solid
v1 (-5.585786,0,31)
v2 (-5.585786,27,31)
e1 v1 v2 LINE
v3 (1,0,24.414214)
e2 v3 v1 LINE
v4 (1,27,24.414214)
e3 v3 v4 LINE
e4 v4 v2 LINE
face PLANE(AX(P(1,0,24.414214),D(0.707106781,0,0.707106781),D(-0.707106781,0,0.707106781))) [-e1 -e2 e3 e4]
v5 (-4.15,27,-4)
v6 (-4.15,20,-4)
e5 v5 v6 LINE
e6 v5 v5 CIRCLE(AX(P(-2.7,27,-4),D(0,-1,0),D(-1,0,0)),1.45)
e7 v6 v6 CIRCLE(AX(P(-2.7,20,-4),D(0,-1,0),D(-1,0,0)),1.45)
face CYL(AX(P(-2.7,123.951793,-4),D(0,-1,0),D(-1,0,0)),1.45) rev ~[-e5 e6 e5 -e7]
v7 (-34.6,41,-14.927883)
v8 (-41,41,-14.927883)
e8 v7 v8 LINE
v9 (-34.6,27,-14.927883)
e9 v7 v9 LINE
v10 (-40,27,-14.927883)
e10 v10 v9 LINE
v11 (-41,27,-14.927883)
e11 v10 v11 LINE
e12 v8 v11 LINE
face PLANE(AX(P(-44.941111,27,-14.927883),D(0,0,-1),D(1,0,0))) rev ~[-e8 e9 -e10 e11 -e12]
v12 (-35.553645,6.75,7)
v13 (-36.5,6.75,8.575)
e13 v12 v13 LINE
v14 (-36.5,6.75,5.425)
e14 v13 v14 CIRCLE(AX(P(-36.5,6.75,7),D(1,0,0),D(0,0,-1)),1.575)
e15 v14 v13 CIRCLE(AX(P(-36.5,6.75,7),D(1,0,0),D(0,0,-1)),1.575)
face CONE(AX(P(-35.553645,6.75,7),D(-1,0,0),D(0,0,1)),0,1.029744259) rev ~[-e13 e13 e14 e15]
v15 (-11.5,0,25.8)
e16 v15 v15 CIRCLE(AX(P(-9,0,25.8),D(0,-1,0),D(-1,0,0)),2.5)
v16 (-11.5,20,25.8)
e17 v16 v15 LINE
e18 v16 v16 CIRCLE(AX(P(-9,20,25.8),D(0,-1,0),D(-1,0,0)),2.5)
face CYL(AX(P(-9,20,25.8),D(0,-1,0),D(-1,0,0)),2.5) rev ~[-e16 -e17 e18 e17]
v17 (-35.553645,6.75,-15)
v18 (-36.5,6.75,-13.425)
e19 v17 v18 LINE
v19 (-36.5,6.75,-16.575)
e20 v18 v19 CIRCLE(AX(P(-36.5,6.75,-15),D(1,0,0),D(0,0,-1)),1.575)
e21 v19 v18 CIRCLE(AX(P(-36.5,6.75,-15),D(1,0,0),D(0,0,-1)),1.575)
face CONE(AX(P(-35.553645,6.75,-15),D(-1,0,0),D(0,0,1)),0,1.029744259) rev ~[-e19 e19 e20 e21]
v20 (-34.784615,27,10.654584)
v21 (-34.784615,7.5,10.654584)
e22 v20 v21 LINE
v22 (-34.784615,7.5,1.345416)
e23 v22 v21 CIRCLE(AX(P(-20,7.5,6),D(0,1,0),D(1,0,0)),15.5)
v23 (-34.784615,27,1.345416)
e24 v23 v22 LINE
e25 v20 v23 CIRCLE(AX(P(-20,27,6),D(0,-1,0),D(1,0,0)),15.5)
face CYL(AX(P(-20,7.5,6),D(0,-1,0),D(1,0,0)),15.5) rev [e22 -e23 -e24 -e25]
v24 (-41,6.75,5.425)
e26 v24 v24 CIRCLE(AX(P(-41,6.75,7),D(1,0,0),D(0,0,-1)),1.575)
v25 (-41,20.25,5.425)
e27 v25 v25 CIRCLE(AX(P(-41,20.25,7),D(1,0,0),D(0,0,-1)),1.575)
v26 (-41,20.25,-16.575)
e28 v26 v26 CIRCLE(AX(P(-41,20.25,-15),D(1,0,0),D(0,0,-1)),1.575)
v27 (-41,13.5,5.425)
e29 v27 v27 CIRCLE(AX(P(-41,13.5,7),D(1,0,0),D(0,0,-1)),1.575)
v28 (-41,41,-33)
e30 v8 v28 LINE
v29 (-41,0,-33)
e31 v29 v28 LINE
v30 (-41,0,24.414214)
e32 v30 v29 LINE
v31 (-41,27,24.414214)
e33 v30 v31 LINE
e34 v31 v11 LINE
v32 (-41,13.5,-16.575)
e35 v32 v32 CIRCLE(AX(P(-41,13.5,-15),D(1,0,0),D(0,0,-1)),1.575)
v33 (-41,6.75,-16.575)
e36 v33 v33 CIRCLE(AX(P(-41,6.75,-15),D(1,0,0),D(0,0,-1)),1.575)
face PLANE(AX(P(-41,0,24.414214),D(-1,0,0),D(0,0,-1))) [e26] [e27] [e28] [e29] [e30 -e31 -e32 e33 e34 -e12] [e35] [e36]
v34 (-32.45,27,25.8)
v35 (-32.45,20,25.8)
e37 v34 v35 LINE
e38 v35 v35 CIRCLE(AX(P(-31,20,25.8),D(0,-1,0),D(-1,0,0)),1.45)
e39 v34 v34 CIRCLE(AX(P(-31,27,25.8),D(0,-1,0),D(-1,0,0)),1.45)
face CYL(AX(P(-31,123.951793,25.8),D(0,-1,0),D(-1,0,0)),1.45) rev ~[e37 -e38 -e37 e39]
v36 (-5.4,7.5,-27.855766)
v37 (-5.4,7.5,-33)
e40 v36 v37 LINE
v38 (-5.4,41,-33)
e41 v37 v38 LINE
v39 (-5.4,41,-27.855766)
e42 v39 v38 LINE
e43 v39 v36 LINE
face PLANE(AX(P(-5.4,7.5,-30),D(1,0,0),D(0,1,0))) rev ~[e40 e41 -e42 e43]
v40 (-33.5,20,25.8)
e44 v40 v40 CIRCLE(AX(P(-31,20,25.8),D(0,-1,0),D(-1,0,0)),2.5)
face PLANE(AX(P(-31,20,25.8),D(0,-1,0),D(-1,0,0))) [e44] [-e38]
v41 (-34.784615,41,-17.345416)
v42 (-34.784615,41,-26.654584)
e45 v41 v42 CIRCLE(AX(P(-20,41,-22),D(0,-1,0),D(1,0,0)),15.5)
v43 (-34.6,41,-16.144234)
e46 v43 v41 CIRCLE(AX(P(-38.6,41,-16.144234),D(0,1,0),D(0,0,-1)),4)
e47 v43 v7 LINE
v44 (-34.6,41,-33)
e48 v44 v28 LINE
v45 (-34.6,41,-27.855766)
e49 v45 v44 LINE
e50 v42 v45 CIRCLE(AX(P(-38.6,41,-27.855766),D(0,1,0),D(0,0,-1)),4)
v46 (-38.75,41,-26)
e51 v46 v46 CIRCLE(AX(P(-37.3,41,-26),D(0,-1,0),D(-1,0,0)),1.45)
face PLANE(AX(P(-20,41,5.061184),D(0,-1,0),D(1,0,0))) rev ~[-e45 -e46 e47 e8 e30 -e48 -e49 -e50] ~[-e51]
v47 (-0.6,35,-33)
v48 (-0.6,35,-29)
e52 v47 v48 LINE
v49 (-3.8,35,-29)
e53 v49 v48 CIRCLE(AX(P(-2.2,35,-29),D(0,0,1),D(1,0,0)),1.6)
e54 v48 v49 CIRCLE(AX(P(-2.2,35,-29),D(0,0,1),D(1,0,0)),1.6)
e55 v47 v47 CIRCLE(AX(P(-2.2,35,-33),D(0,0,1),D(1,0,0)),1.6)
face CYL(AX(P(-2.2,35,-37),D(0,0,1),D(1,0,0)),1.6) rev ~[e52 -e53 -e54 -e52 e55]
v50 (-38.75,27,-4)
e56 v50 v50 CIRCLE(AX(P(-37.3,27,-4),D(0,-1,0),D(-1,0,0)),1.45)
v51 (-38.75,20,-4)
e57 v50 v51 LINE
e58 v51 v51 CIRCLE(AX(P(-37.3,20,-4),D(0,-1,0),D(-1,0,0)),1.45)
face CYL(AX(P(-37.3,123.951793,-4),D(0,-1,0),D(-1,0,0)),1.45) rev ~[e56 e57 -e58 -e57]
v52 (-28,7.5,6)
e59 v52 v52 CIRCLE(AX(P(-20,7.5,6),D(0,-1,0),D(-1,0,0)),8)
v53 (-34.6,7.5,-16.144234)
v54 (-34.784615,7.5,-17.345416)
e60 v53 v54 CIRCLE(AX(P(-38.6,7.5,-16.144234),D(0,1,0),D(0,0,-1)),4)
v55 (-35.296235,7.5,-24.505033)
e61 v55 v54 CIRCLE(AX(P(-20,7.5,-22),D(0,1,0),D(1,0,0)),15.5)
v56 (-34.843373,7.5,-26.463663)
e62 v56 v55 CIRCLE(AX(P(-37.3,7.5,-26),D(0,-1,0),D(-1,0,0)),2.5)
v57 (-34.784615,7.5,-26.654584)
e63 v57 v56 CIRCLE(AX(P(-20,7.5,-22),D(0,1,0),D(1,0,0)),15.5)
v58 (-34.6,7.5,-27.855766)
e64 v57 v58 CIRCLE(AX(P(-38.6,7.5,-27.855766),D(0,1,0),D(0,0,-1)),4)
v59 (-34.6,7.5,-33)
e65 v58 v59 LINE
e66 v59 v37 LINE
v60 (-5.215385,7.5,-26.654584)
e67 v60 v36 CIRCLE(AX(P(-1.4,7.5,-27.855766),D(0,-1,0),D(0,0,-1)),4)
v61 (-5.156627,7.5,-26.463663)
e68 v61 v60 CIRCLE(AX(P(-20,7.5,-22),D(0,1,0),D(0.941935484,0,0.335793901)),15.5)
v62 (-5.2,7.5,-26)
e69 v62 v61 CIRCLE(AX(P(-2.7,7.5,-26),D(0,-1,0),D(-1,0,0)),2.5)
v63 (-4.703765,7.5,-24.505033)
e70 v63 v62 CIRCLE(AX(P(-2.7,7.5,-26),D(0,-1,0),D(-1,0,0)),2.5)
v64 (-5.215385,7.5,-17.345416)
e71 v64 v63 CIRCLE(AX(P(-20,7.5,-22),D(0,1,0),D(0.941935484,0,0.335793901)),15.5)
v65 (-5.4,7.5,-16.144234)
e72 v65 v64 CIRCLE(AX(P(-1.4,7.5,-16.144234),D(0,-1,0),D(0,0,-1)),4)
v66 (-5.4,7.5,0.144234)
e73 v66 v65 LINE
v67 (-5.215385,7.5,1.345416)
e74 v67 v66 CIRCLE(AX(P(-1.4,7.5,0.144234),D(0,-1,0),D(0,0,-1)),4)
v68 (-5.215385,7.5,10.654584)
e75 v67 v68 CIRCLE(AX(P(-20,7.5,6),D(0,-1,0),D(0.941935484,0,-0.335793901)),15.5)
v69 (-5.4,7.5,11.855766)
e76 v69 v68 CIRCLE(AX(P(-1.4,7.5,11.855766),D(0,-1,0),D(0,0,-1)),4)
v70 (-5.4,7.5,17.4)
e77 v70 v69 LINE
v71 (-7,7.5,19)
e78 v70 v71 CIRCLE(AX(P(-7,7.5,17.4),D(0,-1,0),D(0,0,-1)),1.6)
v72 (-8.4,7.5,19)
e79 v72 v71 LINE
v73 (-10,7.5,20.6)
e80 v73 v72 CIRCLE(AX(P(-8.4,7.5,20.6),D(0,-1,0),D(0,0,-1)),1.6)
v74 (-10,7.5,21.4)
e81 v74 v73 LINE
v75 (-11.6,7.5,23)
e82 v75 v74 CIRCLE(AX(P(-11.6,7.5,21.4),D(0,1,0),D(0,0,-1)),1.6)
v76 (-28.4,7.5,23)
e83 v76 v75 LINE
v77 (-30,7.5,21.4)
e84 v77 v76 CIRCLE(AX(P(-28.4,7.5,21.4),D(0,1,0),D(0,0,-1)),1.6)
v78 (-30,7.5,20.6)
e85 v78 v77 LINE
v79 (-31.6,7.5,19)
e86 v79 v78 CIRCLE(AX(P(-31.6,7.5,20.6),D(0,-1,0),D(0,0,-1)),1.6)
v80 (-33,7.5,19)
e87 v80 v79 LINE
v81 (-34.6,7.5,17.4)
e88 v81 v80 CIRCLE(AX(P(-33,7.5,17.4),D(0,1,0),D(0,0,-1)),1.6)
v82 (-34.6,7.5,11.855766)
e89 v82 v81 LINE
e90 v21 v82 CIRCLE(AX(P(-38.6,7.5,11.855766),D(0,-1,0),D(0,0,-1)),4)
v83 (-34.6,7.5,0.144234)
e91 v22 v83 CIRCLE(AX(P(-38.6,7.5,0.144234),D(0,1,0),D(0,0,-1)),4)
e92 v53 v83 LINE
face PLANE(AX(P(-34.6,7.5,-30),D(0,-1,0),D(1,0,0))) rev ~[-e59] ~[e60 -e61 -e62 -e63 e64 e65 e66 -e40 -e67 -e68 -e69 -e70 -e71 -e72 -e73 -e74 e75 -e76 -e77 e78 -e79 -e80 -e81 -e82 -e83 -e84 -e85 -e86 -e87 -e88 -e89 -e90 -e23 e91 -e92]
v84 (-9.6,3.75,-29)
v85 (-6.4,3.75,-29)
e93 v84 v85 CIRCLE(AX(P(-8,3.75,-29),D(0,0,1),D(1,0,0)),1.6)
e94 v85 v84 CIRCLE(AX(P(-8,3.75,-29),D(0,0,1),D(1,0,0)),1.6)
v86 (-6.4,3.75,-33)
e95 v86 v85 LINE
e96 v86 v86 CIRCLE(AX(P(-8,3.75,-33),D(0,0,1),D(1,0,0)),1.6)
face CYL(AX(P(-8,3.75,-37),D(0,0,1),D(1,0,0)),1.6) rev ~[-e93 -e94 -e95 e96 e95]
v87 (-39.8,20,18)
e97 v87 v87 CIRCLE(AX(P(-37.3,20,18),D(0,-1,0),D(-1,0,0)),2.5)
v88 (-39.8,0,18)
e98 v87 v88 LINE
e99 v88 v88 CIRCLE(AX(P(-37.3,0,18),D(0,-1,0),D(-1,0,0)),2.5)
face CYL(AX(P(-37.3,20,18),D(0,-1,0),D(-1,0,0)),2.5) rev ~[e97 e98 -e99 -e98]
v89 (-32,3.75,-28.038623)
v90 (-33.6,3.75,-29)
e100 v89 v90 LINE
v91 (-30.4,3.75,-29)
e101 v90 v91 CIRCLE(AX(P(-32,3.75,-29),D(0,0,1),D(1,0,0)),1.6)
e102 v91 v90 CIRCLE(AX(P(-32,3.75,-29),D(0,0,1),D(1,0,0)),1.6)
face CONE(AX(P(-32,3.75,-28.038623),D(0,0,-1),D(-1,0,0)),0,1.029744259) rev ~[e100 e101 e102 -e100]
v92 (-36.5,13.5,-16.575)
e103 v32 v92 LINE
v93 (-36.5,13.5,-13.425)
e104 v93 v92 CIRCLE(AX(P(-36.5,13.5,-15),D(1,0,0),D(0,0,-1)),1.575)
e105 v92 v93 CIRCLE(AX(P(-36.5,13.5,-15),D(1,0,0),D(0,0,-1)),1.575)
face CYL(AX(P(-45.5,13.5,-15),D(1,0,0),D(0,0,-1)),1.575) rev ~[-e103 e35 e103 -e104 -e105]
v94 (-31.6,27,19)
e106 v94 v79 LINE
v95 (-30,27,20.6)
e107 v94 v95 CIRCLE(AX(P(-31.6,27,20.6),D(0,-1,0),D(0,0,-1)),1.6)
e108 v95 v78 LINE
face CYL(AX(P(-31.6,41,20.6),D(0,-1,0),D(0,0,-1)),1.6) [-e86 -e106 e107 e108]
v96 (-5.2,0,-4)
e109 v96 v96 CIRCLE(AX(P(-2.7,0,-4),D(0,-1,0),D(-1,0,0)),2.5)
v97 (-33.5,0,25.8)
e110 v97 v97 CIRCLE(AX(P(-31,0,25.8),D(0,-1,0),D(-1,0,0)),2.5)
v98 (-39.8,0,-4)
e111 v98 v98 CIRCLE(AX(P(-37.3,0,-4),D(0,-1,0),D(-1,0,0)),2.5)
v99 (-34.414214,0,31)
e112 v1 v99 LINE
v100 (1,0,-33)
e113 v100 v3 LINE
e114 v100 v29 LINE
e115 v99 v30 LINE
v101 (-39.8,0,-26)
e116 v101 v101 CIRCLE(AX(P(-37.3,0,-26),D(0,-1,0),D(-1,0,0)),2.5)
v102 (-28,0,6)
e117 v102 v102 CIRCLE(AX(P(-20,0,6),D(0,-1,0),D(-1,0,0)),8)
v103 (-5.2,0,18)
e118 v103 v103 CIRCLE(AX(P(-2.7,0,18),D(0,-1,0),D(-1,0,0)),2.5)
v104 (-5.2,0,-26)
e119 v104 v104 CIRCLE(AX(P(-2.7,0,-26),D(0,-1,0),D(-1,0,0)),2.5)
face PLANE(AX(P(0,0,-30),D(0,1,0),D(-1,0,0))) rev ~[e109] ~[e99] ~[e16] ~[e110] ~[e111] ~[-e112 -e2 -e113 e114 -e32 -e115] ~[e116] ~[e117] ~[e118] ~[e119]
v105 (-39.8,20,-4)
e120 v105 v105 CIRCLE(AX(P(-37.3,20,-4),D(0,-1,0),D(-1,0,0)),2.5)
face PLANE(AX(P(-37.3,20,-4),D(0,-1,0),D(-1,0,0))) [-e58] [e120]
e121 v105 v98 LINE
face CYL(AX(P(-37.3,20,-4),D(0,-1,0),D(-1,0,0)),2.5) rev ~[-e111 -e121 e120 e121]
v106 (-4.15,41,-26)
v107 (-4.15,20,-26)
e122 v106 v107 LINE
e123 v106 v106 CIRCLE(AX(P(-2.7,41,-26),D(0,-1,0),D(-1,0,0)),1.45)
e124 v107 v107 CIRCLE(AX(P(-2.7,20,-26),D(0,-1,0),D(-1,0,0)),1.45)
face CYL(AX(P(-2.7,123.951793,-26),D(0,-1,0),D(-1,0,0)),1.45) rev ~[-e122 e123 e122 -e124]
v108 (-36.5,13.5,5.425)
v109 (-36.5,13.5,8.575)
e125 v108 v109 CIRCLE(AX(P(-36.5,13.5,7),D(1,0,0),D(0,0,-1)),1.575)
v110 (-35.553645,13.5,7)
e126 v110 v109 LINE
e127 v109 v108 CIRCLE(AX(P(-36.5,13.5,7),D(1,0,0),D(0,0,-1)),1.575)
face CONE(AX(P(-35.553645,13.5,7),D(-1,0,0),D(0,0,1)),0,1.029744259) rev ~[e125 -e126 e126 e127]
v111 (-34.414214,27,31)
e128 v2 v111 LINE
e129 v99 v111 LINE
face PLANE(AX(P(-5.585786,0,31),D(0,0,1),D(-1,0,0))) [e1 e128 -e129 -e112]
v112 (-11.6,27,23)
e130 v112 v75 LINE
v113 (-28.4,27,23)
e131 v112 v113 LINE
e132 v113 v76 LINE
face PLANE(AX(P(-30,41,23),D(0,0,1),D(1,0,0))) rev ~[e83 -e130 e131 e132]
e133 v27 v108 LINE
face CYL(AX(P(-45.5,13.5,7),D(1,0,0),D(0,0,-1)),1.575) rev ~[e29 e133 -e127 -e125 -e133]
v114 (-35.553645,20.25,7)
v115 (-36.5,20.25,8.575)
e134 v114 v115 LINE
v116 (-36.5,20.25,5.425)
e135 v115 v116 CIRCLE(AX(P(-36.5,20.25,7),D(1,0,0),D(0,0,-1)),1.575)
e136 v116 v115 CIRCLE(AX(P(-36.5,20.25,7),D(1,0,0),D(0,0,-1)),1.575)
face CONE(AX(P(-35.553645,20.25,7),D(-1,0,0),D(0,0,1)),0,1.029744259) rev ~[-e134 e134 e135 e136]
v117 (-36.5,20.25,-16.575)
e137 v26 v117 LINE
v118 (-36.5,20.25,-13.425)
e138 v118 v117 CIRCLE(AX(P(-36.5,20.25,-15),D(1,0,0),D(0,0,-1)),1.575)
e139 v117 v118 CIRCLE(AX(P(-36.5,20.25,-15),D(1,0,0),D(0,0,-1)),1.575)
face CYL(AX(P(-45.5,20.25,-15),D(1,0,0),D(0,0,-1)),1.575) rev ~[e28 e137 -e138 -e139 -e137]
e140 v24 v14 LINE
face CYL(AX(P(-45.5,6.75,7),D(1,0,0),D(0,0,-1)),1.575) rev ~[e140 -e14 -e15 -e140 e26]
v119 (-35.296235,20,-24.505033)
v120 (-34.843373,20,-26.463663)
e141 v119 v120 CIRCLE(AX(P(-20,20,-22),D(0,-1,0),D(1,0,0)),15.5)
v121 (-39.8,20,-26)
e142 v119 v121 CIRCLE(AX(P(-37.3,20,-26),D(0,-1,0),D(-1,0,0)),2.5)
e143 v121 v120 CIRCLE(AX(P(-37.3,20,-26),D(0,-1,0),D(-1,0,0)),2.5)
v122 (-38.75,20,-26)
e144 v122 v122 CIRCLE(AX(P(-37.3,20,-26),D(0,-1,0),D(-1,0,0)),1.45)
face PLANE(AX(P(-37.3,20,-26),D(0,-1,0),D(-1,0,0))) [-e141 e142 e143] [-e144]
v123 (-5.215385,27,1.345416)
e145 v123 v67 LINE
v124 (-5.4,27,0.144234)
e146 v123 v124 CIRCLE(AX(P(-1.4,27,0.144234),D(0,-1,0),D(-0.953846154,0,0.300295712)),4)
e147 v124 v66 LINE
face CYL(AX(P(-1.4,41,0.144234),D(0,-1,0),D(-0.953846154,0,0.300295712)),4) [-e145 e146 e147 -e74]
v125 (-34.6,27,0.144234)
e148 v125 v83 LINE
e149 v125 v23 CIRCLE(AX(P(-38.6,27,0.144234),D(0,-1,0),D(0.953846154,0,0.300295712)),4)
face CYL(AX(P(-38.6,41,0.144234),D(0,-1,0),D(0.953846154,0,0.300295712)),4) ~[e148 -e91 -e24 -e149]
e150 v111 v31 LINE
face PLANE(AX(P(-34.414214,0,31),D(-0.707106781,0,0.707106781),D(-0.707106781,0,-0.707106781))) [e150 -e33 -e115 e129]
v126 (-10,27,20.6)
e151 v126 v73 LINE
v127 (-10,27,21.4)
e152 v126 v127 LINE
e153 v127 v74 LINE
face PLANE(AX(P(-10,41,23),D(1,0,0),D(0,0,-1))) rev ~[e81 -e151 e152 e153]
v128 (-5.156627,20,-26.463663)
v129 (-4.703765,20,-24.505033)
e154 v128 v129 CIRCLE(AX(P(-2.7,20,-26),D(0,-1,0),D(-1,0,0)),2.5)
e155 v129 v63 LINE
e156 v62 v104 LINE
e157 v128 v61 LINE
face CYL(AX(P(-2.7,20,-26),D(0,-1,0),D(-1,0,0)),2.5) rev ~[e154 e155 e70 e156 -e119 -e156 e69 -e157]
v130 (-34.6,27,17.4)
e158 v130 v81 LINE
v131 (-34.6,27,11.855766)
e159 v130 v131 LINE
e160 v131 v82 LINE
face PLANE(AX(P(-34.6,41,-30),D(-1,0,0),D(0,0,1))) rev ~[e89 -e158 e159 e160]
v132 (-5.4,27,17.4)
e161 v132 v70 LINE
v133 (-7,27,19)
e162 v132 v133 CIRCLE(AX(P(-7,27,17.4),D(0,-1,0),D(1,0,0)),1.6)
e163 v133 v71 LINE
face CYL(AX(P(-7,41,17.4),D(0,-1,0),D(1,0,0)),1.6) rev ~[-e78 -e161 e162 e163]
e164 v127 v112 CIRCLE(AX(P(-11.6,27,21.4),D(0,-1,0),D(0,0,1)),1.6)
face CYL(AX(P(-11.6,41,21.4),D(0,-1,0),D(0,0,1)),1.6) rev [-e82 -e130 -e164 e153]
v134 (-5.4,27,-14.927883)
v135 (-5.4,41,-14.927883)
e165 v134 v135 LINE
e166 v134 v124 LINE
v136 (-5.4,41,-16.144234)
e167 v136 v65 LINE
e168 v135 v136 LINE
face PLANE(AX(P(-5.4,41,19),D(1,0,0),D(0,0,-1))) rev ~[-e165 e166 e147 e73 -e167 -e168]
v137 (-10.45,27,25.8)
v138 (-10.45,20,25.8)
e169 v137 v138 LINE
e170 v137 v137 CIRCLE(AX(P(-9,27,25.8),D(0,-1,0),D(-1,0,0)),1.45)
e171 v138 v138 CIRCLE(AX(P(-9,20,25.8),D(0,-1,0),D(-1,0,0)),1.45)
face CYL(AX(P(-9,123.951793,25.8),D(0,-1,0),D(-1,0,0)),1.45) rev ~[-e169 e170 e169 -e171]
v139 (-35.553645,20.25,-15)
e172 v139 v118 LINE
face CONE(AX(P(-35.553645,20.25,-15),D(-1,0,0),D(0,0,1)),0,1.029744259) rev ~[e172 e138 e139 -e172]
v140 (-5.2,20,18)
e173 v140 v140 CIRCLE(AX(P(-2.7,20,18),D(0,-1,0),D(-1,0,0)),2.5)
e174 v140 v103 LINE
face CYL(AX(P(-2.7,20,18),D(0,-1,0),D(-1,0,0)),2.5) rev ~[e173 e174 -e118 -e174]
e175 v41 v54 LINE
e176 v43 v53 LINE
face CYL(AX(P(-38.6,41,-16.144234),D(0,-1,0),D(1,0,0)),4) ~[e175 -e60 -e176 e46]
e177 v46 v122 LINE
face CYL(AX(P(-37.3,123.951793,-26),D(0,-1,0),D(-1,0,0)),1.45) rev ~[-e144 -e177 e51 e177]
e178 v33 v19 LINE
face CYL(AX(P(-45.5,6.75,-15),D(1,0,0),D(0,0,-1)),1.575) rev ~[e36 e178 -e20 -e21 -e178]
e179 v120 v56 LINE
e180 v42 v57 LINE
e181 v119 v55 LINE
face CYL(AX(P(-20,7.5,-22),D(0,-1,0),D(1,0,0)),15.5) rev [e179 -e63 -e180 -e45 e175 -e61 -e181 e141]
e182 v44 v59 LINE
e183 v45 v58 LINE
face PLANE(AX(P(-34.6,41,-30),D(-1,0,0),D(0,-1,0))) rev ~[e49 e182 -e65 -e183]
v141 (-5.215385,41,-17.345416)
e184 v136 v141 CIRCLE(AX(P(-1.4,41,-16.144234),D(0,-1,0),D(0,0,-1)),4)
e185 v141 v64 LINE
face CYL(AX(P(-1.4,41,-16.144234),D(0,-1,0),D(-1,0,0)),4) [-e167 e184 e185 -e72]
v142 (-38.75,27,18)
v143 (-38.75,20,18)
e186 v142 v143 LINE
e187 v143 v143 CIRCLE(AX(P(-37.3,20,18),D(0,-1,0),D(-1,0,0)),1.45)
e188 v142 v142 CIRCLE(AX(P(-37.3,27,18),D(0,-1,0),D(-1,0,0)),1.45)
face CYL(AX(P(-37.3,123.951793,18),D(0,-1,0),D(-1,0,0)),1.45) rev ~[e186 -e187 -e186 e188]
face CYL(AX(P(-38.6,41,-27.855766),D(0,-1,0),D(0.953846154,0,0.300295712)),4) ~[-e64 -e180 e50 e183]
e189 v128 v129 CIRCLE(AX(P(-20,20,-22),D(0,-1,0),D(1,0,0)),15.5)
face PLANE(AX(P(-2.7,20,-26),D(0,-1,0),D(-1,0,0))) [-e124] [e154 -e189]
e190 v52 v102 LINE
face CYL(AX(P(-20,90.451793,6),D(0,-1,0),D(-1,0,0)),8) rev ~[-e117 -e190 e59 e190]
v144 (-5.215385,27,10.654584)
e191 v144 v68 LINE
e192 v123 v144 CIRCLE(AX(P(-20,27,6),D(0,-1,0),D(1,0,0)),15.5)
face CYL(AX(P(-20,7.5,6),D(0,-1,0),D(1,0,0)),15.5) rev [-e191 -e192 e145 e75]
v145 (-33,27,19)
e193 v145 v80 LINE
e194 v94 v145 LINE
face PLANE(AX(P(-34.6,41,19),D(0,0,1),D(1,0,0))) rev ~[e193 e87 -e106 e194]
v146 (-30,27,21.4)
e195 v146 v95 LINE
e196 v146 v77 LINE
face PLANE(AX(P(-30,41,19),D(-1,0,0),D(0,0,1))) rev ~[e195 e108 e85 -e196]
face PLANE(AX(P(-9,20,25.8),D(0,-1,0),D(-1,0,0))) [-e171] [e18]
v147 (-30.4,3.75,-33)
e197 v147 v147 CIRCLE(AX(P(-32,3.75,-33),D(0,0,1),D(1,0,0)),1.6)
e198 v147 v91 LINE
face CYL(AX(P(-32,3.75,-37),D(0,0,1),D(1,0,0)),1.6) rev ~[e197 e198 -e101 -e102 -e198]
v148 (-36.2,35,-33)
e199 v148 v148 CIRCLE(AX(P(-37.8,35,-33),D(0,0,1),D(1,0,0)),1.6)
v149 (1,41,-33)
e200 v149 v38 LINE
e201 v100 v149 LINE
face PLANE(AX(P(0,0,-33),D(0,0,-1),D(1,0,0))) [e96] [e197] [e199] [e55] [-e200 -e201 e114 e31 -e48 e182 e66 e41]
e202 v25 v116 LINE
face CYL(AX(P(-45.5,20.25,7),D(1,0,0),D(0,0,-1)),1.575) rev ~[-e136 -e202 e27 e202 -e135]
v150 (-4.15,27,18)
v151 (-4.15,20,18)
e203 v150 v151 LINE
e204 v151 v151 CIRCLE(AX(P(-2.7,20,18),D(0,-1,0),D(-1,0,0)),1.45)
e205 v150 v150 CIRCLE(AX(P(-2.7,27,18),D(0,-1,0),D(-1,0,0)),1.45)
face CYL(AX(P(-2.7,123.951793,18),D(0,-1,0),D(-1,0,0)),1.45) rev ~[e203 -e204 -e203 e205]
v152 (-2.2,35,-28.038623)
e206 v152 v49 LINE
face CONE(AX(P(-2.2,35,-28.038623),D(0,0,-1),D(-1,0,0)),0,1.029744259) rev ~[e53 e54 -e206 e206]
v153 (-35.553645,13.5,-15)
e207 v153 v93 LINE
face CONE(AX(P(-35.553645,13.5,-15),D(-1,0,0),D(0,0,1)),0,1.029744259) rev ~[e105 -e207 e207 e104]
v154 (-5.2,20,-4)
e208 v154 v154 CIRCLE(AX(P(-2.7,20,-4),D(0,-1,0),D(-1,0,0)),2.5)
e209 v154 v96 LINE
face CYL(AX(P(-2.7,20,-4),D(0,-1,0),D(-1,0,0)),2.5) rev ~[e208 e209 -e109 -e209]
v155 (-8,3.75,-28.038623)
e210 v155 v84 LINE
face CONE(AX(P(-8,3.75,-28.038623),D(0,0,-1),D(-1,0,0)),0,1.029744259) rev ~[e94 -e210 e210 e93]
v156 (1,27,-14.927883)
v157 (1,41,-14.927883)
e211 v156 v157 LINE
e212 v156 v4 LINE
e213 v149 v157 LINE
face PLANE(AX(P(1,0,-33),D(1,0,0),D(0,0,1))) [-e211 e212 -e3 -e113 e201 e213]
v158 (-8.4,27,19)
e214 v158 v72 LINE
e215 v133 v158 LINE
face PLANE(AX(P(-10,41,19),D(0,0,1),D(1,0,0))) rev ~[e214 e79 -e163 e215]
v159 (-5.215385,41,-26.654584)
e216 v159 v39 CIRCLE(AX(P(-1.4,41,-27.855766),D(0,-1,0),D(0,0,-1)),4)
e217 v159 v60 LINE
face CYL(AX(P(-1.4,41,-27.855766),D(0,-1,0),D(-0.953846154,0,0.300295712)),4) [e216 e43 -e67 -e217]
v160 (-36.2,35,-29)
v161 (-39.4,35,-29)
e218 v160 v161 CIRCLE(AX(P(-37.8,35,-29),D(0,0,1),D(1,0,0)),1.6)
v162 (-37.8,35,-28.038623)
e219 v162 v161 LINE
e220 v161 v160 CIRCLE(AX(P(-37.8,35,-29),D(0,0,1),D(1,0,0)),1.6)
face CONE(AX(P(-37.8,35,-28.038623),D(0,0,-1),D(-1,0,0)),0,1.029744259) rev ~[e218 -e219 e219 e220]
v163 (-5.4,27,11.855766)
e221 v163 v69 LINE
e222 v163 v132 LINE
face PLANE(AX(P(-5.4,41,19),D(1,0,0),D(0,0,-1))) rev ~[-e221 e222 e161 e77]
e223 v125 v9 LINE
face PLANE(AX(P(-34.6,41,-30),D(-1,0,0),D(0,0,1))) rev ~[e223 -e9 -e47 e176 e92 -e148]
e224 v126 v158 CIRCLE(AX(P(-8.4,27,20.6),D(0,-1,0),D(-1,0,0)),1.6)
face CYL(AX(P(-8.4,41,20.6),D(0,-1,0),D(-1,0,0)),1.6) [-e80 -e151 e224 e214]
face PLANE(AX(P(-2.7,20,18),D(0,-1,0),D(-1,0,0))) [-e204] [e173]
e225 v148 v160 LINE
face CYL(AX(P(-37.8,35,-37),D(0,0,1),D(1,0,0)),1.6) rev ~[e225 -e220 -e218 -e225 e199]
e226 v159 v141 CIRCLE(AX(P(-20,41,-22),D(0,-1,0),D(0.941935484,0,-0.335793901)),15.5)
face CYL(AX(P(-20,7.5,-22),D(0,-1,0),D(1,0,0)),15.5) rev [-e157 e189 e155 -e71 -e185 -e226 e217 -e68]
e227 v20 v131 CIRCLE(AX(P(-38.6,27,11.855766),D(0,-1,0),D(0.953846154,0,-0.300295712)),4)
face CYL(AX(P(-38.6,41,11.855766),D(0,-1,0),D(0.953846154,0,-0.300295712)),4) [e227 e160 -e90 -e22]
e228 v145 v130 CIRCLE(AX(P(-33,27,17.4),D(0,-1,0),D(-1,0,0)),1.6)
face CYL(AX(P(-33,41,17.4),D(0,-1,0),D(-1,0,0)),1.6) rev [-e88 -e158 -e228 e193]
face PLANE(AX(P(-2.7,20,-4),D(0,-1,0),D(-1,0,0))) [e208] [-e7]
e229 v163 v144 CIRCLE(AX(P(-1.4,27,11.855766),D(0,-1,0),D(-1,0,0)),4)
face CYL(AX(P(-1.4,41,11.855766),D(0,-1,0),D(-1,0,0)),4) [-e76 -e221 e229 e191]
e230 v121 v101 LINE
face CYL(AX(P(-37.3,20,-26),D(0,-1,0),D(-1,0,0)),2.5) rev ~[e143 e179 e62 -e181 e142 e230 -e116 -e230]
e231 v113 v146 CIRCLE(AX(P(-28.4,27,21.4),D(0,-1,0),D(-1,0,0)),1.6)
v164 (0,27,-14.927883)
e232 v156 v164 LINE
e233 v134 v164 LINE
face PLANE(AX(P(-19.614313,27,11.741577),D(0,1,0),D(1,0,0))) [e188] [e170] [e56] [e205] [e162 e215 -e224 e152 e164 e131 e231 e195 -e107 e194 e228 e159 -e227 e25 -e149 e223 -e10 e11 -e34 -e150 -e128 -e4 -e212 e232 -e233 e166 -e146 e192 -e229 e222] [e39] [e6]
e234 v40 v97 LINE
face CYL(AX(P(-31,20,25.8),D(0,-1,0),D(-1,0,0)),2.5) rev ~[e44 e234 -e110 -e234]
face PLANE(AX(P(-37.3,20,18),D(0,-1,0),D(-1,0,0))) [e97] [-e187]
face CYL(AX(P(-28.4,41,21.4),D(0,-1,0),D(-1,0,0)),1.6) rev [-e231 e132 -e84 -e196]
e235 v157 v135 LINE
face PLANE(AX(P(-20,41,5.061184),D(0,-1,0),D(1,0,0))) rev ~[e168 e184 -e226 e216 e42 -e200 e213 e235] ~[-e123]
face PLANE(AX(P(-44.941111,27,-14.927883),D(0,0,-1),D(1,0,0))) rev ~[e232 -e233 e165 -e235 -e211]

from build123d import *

# Parameters (mm, degrees)
SKETCH1_W                                            = 40
SKETCH1_H                                            = 60
BOSS_EXTRUDE1_DEPTH                                  = 41
M2_5_CLEARANCE_HOLE1_D                               = 2.9
CUT_EXTRUDE1_DEPTH                                   = 33.5
FILLET1_R                                            = 1.6
F_16_0_16_DIAMETER_HOLE2_D                           = 16
SKETCH9_R                                            = 15.5
CUT_EXTRUDE2_DEPTH                                   = 33.5
FILLET2_R                                            = 4
CUT_EXTRUDE3_DEPTH                                   = 65.660652641
CUT_EXTRUDE3_DEPTH_BACK                              = 14
SKETCH11_W                                           = 50.653597067
SKETCH11_H                                           = 53.338920101
SKETCH12_R                                           = 15.5
CUT_EXTRUDE4_DEPTH                                   = 61.185131054
FILLET3_R                                            = 4
BOSS_EXTRUDE3_DEPTH                                  = 3
CHAMFER1_SIZE                                        = 6
BOSS_EXTRUDE4_DEPTH                                  = 41
CUT_EXTRUDE5_DEPTH                                   = 67.715815216
CUT_EXTRUDE5_DEPTH_BACK                              = 67.715815216
SKETCH19_W                                           = 48.667082547
SKETCH19_H                                           = 18.204733745
CBORE_FOR_M2_5_HEX_SOCKET_HEAD_CAP_SCREW_D           = 2.9
CBORE_FOR_M2_5_HEX_SOCKET_HEAD_CAP_SCREW_CBORE_D     = 5
CBORE_FOR_M2_5_HEX_SOCKET_HEAD_CAP_SCREW_CBORE_DEPTH = 20
TAP_DRILL_FOR_M3_HELICOIL1_D                         = 3.2
TAP_DRILL_FOR_M3_HELICOIL1_DEPTH                     = 4
TAP_DRILL_FOR_M3_HELICOIL1_TIP                       = 0.96137699
TAP_DRILL_FOR_M3_HELICOIL2_D                         = 3.15
TAP_DRILL_FOR_M3_HELICOIL2_DEPTH                     = 4.5
TAP_DRILL_FOR_M3_HELICOIL2_TIP                       = 0.946355475


with BuildPart() as part:
    # Sketch1 → Boss-Extrude1 (new body)
    with BuildSketch(Plane(origin=(0, 0, 0), x_dir=(1, 0, 0), z_dir=(0, 1, 0))):
        with Locations((-20, 0)):
            Rectangle(SKETCH1_W, SKETCH1_H)
    extrude(amount=BOSS_EXTRUDE1_DEPTH)

    # M2.5 Clearance Hole1 (through all)
    with Locations(Plane(origin=(0, 41, 0), x_dir=(1, 0, 0), z_dir=(0, 1, 0))):
        with Locations((-37.3, 26), (-37.3, 4), (-37.3, -18), (-31, -25.8), (-9, -25.8), (-2.7, -18), (-2.7, 4), (-2.7, 26)):
            Hole(M2_5_CLEARANCE_HOLE1_D / 2)

    # Sketch4 → Cut-Extrude1 (cut)
    with BuildSketch(Plane(origin=(0, 41, 0), x_dir=(1, 0, 0), z_dir=(0, 1, 0))):
        Polygon((-34.6, 30), (-34.6, -19), (-30, -19), (-30, -23), (-10, -23), (-10, -19), (-5.4, -19), (-5.4, 30), align=None)
    extrude(amount=-CUT_EXTRUDE1_DEPTH, mode=Mode.SUBTRACT)

    # Fillet1
    fillet1_edges = [part.edges().sort_by_distance(p)[0] for p in [
        (-10, 24.25, 23),
        (-30, 24.25, 23),
        (-30, 24.25, 19),
        (-34.6, 24.25, 19),
        (-5.4, 24.25, 19),
        (-10, 24.25, 19),
    ]]
    fillet(fillet1_edges, radius=FILLET1_R)

    # Ø16.0 (16) Diameter Hole2 (through all)
    with Locations(Plane(origin=(0, 7.5, 0), x_dir=(1, 0, 0), z_dir=(0, 1, 0))):
        with Locations((-20, -6)):
            Hole(F_16_0_16_DIAMETER_HOLE2_D / 2)

    # Sketch9 → Cut-Extrude2 (cut)
    with BuildSketch(Plane(origin=(0, 7.5, 0), x_dir=(1, 0, 0), z_dir=(0, 1, 0))):
        with Locations((-20, -6)):
            Circle(SKETCH9_R)
    extrude(amount=CUT_EXTRUDE2_DEPTH, mode=Mode.SUBTRACT)

    # Fillet2
    fillet2_edges = [part.edges().sort_by_distance(p)[0] for p in [
        (-5.4, 24.25, 0.795194528),
        (-5.4, 24.25, 11.204805472),
        (-34.6, 24.25, 11.204805472),
        (-34.6, 24.25, 0.795194528),
    ]]
    fillet(fillet2_edges, radius=FILLET2_R)

    # Sketch11 → Cut-Extrude3 (cut, two sides: drawn at the far end of the back side and taken through both)
    with BuildSketch(Plane(origin=(0, 41, 0), x_dir=(1, 0, 0), z_dir=(0, 1, 0)).offset(-CUT_EXTRUDE3_DEPTH_BACK)):
        with Locations((-19.614312713, -11.741576857)):
            Rectangle(SKETCH11_W, SKETCH11_H)
    extrude(amount=CUT_EXTRUDE3_DEPTH + CUT_EXTRUDE3_DEPTH_BACK, mode=Mode.SUBTRACT)

    # Sketch12 → Cut-Extrude4 (cut, through all)
    with BuildSketch(Plane(origin=(0, 7.5, 0), x_dir=(1, 0, 0), z_dir=(0, 1, 0))):
        with Locations((-20, 22)):
            Circle(SKETCH12_R)
    extrude(amount=CUT_EXTRUDE4_DEPTH, mode=Mode.SUBTRACT)

    # Fillet3
    fillet3_edges = [part.edges().sort_by_distance(p)[0] for p in [
        (-34.6, 24.25, -27.204805472),
        (-5.4, 24.25, -27.204805472),
        (-34.6, 24.25, -16.795194528),
        (-5.4, 24.25, -16.795194528),
    ]]
    fillet(fillet3_edges, radius=FILLET3_R)

    # Sketch15 → Boss-Extrude3 (add)
    with BuildSketch(Plane(origin=(0, 0, -30), x_dir=(-1, 0, 0), z_dir=(0, 0, -1))):
        Polygon((40, 41), (34.6, 41), (34.6, 7.5), (5.4, 7.5), (5.4, 41), (0, 41), (0, 0), (40, 0), align=None)
    extrude(amount=BOSS_EXTRUDE3_DEPTH)

    # Chamfer1
    chamfer1_edges = [part.edges().sort_by_distance(p)[0] for p in [
        (0, 13.5, 30),
        (-40, 13.5, 30),
    ]]
    chamfer(chamfer1_edges, length=CHAMFER1_SIZE)

    # Sketch18 → Boss-Extrude4 (add)
    with BuildSketch(Plane.XZ):
        Polygon((0, 24), (0, -33), (1, -33), (1, 24.414213562), (-5.585786438, 31), (-34.414213562, 31), (-41, 24.414213562), (-41, -33), (-40, -33), (-40, 24), (-34, 30), (-6, 30), align=None)
    extrude(amount=-BOSS_EXTRUDE4_DEPTH)

    # Sketch19 → Cut-Extrude5 (cut, two sides: drawn at the far end of the back side and taken through both)
    with BuildSketch(Plane.ZY.offset(-CUT_EXTRUDE5_DEPTH_BACK)):
        with Locations((9.40565808, 36.102366872)):
            Rectangle(SKETCH19_W, SKETCH19_H)
    extrude(amount=CUT_EXTRUDE5_DEPTH + CUT_EXTRUDE5_DEPTH_BACK, mode=Mode.SUBTRACT)

    # CBORE for M2.5 Hex Socket Head Cap Screw1 (through all)
    with Locations(Plane(origin=(0, 0, 0), x_dir=(-1, 0, 0), z_dir=(0, -1, 0))):
        with Locations((2.7, 4), (37.3, 4), (37.3, -18), (31, -25.8), (9, -25.8), (2.7, -18), (2.7, 26), (37.3, 26)):
            CounterBoreHole(CBORE_FOR_M2_5_HEX_SOCKET_HEAD_CAP_SCREW_D / 2, CBORE_FOR_M2_5_HEX_SOCKET_HEAD_CAP_SCREW_CBORE_D / 2, CBORE_FOR_M2_5_HEX_SOCKET_HEAD_CAP_SCREW_CBORE_DEPTH)

    # Tap Drill for M3 Helicoil1
    with Locations(Plane(origin=(0, 0, -33), x_dir=(-1, 0, 0), z_dir=(0, 0, -1))):
        with Locations((37.8, 35), (8, 3.75), (32, 3.75), (2.2, 35)):
            Hole(TAP_DRILL_FOR_M3_HELICOIL1_D / 2, depth=TAP_DRILL_FOR_M3_HELICOIL1_DEPTH)
            with Locations((0, 0, -(TAP_DRILL_FOR_M3_HELICOIL1_DEPTH + TAP_DRILL_FOR_M3_HELICOIL1_TIP / 2))):  # 118° drill point
                Cone(0, TAP_DRILL_FOR_M3_HELICOIL1_D / 2, TAP_DRILL_FOR_M3_HELICOIL1_TIP, mode=Mode.SUBTRACT)

    # Tap Drill for M3 Helicoil2
    with Locations(Plane.ZY.offset(41)):
        with Locations((7, 6.75), (7, 13.5), (7, 20.25), (-15, 6.75), (-15, 13.5), (-15, 20.25)):
            Hole(TAP_DRILL_FOR_M3_HELICOIL2_D / 2, depth=TAP_DRILL_FOR_M3_HELICOIL2_DEPTH)
            with Locations((0, 0, -(TAP_DRILL_FOR_M3_HELICOIL2_DEPTH + TAP_DRILL_FOR_M3_HELICOIL2_TIP / 2))):  # 118° drill point
                Cone(0, TAP_DRILL_FOR_M3_HELICOIL2_D / 2, TAP_DRILL_FOR_M3_HELICOIL2_TIP, mode=Mode.SUBTRACT)


solid = part.part
